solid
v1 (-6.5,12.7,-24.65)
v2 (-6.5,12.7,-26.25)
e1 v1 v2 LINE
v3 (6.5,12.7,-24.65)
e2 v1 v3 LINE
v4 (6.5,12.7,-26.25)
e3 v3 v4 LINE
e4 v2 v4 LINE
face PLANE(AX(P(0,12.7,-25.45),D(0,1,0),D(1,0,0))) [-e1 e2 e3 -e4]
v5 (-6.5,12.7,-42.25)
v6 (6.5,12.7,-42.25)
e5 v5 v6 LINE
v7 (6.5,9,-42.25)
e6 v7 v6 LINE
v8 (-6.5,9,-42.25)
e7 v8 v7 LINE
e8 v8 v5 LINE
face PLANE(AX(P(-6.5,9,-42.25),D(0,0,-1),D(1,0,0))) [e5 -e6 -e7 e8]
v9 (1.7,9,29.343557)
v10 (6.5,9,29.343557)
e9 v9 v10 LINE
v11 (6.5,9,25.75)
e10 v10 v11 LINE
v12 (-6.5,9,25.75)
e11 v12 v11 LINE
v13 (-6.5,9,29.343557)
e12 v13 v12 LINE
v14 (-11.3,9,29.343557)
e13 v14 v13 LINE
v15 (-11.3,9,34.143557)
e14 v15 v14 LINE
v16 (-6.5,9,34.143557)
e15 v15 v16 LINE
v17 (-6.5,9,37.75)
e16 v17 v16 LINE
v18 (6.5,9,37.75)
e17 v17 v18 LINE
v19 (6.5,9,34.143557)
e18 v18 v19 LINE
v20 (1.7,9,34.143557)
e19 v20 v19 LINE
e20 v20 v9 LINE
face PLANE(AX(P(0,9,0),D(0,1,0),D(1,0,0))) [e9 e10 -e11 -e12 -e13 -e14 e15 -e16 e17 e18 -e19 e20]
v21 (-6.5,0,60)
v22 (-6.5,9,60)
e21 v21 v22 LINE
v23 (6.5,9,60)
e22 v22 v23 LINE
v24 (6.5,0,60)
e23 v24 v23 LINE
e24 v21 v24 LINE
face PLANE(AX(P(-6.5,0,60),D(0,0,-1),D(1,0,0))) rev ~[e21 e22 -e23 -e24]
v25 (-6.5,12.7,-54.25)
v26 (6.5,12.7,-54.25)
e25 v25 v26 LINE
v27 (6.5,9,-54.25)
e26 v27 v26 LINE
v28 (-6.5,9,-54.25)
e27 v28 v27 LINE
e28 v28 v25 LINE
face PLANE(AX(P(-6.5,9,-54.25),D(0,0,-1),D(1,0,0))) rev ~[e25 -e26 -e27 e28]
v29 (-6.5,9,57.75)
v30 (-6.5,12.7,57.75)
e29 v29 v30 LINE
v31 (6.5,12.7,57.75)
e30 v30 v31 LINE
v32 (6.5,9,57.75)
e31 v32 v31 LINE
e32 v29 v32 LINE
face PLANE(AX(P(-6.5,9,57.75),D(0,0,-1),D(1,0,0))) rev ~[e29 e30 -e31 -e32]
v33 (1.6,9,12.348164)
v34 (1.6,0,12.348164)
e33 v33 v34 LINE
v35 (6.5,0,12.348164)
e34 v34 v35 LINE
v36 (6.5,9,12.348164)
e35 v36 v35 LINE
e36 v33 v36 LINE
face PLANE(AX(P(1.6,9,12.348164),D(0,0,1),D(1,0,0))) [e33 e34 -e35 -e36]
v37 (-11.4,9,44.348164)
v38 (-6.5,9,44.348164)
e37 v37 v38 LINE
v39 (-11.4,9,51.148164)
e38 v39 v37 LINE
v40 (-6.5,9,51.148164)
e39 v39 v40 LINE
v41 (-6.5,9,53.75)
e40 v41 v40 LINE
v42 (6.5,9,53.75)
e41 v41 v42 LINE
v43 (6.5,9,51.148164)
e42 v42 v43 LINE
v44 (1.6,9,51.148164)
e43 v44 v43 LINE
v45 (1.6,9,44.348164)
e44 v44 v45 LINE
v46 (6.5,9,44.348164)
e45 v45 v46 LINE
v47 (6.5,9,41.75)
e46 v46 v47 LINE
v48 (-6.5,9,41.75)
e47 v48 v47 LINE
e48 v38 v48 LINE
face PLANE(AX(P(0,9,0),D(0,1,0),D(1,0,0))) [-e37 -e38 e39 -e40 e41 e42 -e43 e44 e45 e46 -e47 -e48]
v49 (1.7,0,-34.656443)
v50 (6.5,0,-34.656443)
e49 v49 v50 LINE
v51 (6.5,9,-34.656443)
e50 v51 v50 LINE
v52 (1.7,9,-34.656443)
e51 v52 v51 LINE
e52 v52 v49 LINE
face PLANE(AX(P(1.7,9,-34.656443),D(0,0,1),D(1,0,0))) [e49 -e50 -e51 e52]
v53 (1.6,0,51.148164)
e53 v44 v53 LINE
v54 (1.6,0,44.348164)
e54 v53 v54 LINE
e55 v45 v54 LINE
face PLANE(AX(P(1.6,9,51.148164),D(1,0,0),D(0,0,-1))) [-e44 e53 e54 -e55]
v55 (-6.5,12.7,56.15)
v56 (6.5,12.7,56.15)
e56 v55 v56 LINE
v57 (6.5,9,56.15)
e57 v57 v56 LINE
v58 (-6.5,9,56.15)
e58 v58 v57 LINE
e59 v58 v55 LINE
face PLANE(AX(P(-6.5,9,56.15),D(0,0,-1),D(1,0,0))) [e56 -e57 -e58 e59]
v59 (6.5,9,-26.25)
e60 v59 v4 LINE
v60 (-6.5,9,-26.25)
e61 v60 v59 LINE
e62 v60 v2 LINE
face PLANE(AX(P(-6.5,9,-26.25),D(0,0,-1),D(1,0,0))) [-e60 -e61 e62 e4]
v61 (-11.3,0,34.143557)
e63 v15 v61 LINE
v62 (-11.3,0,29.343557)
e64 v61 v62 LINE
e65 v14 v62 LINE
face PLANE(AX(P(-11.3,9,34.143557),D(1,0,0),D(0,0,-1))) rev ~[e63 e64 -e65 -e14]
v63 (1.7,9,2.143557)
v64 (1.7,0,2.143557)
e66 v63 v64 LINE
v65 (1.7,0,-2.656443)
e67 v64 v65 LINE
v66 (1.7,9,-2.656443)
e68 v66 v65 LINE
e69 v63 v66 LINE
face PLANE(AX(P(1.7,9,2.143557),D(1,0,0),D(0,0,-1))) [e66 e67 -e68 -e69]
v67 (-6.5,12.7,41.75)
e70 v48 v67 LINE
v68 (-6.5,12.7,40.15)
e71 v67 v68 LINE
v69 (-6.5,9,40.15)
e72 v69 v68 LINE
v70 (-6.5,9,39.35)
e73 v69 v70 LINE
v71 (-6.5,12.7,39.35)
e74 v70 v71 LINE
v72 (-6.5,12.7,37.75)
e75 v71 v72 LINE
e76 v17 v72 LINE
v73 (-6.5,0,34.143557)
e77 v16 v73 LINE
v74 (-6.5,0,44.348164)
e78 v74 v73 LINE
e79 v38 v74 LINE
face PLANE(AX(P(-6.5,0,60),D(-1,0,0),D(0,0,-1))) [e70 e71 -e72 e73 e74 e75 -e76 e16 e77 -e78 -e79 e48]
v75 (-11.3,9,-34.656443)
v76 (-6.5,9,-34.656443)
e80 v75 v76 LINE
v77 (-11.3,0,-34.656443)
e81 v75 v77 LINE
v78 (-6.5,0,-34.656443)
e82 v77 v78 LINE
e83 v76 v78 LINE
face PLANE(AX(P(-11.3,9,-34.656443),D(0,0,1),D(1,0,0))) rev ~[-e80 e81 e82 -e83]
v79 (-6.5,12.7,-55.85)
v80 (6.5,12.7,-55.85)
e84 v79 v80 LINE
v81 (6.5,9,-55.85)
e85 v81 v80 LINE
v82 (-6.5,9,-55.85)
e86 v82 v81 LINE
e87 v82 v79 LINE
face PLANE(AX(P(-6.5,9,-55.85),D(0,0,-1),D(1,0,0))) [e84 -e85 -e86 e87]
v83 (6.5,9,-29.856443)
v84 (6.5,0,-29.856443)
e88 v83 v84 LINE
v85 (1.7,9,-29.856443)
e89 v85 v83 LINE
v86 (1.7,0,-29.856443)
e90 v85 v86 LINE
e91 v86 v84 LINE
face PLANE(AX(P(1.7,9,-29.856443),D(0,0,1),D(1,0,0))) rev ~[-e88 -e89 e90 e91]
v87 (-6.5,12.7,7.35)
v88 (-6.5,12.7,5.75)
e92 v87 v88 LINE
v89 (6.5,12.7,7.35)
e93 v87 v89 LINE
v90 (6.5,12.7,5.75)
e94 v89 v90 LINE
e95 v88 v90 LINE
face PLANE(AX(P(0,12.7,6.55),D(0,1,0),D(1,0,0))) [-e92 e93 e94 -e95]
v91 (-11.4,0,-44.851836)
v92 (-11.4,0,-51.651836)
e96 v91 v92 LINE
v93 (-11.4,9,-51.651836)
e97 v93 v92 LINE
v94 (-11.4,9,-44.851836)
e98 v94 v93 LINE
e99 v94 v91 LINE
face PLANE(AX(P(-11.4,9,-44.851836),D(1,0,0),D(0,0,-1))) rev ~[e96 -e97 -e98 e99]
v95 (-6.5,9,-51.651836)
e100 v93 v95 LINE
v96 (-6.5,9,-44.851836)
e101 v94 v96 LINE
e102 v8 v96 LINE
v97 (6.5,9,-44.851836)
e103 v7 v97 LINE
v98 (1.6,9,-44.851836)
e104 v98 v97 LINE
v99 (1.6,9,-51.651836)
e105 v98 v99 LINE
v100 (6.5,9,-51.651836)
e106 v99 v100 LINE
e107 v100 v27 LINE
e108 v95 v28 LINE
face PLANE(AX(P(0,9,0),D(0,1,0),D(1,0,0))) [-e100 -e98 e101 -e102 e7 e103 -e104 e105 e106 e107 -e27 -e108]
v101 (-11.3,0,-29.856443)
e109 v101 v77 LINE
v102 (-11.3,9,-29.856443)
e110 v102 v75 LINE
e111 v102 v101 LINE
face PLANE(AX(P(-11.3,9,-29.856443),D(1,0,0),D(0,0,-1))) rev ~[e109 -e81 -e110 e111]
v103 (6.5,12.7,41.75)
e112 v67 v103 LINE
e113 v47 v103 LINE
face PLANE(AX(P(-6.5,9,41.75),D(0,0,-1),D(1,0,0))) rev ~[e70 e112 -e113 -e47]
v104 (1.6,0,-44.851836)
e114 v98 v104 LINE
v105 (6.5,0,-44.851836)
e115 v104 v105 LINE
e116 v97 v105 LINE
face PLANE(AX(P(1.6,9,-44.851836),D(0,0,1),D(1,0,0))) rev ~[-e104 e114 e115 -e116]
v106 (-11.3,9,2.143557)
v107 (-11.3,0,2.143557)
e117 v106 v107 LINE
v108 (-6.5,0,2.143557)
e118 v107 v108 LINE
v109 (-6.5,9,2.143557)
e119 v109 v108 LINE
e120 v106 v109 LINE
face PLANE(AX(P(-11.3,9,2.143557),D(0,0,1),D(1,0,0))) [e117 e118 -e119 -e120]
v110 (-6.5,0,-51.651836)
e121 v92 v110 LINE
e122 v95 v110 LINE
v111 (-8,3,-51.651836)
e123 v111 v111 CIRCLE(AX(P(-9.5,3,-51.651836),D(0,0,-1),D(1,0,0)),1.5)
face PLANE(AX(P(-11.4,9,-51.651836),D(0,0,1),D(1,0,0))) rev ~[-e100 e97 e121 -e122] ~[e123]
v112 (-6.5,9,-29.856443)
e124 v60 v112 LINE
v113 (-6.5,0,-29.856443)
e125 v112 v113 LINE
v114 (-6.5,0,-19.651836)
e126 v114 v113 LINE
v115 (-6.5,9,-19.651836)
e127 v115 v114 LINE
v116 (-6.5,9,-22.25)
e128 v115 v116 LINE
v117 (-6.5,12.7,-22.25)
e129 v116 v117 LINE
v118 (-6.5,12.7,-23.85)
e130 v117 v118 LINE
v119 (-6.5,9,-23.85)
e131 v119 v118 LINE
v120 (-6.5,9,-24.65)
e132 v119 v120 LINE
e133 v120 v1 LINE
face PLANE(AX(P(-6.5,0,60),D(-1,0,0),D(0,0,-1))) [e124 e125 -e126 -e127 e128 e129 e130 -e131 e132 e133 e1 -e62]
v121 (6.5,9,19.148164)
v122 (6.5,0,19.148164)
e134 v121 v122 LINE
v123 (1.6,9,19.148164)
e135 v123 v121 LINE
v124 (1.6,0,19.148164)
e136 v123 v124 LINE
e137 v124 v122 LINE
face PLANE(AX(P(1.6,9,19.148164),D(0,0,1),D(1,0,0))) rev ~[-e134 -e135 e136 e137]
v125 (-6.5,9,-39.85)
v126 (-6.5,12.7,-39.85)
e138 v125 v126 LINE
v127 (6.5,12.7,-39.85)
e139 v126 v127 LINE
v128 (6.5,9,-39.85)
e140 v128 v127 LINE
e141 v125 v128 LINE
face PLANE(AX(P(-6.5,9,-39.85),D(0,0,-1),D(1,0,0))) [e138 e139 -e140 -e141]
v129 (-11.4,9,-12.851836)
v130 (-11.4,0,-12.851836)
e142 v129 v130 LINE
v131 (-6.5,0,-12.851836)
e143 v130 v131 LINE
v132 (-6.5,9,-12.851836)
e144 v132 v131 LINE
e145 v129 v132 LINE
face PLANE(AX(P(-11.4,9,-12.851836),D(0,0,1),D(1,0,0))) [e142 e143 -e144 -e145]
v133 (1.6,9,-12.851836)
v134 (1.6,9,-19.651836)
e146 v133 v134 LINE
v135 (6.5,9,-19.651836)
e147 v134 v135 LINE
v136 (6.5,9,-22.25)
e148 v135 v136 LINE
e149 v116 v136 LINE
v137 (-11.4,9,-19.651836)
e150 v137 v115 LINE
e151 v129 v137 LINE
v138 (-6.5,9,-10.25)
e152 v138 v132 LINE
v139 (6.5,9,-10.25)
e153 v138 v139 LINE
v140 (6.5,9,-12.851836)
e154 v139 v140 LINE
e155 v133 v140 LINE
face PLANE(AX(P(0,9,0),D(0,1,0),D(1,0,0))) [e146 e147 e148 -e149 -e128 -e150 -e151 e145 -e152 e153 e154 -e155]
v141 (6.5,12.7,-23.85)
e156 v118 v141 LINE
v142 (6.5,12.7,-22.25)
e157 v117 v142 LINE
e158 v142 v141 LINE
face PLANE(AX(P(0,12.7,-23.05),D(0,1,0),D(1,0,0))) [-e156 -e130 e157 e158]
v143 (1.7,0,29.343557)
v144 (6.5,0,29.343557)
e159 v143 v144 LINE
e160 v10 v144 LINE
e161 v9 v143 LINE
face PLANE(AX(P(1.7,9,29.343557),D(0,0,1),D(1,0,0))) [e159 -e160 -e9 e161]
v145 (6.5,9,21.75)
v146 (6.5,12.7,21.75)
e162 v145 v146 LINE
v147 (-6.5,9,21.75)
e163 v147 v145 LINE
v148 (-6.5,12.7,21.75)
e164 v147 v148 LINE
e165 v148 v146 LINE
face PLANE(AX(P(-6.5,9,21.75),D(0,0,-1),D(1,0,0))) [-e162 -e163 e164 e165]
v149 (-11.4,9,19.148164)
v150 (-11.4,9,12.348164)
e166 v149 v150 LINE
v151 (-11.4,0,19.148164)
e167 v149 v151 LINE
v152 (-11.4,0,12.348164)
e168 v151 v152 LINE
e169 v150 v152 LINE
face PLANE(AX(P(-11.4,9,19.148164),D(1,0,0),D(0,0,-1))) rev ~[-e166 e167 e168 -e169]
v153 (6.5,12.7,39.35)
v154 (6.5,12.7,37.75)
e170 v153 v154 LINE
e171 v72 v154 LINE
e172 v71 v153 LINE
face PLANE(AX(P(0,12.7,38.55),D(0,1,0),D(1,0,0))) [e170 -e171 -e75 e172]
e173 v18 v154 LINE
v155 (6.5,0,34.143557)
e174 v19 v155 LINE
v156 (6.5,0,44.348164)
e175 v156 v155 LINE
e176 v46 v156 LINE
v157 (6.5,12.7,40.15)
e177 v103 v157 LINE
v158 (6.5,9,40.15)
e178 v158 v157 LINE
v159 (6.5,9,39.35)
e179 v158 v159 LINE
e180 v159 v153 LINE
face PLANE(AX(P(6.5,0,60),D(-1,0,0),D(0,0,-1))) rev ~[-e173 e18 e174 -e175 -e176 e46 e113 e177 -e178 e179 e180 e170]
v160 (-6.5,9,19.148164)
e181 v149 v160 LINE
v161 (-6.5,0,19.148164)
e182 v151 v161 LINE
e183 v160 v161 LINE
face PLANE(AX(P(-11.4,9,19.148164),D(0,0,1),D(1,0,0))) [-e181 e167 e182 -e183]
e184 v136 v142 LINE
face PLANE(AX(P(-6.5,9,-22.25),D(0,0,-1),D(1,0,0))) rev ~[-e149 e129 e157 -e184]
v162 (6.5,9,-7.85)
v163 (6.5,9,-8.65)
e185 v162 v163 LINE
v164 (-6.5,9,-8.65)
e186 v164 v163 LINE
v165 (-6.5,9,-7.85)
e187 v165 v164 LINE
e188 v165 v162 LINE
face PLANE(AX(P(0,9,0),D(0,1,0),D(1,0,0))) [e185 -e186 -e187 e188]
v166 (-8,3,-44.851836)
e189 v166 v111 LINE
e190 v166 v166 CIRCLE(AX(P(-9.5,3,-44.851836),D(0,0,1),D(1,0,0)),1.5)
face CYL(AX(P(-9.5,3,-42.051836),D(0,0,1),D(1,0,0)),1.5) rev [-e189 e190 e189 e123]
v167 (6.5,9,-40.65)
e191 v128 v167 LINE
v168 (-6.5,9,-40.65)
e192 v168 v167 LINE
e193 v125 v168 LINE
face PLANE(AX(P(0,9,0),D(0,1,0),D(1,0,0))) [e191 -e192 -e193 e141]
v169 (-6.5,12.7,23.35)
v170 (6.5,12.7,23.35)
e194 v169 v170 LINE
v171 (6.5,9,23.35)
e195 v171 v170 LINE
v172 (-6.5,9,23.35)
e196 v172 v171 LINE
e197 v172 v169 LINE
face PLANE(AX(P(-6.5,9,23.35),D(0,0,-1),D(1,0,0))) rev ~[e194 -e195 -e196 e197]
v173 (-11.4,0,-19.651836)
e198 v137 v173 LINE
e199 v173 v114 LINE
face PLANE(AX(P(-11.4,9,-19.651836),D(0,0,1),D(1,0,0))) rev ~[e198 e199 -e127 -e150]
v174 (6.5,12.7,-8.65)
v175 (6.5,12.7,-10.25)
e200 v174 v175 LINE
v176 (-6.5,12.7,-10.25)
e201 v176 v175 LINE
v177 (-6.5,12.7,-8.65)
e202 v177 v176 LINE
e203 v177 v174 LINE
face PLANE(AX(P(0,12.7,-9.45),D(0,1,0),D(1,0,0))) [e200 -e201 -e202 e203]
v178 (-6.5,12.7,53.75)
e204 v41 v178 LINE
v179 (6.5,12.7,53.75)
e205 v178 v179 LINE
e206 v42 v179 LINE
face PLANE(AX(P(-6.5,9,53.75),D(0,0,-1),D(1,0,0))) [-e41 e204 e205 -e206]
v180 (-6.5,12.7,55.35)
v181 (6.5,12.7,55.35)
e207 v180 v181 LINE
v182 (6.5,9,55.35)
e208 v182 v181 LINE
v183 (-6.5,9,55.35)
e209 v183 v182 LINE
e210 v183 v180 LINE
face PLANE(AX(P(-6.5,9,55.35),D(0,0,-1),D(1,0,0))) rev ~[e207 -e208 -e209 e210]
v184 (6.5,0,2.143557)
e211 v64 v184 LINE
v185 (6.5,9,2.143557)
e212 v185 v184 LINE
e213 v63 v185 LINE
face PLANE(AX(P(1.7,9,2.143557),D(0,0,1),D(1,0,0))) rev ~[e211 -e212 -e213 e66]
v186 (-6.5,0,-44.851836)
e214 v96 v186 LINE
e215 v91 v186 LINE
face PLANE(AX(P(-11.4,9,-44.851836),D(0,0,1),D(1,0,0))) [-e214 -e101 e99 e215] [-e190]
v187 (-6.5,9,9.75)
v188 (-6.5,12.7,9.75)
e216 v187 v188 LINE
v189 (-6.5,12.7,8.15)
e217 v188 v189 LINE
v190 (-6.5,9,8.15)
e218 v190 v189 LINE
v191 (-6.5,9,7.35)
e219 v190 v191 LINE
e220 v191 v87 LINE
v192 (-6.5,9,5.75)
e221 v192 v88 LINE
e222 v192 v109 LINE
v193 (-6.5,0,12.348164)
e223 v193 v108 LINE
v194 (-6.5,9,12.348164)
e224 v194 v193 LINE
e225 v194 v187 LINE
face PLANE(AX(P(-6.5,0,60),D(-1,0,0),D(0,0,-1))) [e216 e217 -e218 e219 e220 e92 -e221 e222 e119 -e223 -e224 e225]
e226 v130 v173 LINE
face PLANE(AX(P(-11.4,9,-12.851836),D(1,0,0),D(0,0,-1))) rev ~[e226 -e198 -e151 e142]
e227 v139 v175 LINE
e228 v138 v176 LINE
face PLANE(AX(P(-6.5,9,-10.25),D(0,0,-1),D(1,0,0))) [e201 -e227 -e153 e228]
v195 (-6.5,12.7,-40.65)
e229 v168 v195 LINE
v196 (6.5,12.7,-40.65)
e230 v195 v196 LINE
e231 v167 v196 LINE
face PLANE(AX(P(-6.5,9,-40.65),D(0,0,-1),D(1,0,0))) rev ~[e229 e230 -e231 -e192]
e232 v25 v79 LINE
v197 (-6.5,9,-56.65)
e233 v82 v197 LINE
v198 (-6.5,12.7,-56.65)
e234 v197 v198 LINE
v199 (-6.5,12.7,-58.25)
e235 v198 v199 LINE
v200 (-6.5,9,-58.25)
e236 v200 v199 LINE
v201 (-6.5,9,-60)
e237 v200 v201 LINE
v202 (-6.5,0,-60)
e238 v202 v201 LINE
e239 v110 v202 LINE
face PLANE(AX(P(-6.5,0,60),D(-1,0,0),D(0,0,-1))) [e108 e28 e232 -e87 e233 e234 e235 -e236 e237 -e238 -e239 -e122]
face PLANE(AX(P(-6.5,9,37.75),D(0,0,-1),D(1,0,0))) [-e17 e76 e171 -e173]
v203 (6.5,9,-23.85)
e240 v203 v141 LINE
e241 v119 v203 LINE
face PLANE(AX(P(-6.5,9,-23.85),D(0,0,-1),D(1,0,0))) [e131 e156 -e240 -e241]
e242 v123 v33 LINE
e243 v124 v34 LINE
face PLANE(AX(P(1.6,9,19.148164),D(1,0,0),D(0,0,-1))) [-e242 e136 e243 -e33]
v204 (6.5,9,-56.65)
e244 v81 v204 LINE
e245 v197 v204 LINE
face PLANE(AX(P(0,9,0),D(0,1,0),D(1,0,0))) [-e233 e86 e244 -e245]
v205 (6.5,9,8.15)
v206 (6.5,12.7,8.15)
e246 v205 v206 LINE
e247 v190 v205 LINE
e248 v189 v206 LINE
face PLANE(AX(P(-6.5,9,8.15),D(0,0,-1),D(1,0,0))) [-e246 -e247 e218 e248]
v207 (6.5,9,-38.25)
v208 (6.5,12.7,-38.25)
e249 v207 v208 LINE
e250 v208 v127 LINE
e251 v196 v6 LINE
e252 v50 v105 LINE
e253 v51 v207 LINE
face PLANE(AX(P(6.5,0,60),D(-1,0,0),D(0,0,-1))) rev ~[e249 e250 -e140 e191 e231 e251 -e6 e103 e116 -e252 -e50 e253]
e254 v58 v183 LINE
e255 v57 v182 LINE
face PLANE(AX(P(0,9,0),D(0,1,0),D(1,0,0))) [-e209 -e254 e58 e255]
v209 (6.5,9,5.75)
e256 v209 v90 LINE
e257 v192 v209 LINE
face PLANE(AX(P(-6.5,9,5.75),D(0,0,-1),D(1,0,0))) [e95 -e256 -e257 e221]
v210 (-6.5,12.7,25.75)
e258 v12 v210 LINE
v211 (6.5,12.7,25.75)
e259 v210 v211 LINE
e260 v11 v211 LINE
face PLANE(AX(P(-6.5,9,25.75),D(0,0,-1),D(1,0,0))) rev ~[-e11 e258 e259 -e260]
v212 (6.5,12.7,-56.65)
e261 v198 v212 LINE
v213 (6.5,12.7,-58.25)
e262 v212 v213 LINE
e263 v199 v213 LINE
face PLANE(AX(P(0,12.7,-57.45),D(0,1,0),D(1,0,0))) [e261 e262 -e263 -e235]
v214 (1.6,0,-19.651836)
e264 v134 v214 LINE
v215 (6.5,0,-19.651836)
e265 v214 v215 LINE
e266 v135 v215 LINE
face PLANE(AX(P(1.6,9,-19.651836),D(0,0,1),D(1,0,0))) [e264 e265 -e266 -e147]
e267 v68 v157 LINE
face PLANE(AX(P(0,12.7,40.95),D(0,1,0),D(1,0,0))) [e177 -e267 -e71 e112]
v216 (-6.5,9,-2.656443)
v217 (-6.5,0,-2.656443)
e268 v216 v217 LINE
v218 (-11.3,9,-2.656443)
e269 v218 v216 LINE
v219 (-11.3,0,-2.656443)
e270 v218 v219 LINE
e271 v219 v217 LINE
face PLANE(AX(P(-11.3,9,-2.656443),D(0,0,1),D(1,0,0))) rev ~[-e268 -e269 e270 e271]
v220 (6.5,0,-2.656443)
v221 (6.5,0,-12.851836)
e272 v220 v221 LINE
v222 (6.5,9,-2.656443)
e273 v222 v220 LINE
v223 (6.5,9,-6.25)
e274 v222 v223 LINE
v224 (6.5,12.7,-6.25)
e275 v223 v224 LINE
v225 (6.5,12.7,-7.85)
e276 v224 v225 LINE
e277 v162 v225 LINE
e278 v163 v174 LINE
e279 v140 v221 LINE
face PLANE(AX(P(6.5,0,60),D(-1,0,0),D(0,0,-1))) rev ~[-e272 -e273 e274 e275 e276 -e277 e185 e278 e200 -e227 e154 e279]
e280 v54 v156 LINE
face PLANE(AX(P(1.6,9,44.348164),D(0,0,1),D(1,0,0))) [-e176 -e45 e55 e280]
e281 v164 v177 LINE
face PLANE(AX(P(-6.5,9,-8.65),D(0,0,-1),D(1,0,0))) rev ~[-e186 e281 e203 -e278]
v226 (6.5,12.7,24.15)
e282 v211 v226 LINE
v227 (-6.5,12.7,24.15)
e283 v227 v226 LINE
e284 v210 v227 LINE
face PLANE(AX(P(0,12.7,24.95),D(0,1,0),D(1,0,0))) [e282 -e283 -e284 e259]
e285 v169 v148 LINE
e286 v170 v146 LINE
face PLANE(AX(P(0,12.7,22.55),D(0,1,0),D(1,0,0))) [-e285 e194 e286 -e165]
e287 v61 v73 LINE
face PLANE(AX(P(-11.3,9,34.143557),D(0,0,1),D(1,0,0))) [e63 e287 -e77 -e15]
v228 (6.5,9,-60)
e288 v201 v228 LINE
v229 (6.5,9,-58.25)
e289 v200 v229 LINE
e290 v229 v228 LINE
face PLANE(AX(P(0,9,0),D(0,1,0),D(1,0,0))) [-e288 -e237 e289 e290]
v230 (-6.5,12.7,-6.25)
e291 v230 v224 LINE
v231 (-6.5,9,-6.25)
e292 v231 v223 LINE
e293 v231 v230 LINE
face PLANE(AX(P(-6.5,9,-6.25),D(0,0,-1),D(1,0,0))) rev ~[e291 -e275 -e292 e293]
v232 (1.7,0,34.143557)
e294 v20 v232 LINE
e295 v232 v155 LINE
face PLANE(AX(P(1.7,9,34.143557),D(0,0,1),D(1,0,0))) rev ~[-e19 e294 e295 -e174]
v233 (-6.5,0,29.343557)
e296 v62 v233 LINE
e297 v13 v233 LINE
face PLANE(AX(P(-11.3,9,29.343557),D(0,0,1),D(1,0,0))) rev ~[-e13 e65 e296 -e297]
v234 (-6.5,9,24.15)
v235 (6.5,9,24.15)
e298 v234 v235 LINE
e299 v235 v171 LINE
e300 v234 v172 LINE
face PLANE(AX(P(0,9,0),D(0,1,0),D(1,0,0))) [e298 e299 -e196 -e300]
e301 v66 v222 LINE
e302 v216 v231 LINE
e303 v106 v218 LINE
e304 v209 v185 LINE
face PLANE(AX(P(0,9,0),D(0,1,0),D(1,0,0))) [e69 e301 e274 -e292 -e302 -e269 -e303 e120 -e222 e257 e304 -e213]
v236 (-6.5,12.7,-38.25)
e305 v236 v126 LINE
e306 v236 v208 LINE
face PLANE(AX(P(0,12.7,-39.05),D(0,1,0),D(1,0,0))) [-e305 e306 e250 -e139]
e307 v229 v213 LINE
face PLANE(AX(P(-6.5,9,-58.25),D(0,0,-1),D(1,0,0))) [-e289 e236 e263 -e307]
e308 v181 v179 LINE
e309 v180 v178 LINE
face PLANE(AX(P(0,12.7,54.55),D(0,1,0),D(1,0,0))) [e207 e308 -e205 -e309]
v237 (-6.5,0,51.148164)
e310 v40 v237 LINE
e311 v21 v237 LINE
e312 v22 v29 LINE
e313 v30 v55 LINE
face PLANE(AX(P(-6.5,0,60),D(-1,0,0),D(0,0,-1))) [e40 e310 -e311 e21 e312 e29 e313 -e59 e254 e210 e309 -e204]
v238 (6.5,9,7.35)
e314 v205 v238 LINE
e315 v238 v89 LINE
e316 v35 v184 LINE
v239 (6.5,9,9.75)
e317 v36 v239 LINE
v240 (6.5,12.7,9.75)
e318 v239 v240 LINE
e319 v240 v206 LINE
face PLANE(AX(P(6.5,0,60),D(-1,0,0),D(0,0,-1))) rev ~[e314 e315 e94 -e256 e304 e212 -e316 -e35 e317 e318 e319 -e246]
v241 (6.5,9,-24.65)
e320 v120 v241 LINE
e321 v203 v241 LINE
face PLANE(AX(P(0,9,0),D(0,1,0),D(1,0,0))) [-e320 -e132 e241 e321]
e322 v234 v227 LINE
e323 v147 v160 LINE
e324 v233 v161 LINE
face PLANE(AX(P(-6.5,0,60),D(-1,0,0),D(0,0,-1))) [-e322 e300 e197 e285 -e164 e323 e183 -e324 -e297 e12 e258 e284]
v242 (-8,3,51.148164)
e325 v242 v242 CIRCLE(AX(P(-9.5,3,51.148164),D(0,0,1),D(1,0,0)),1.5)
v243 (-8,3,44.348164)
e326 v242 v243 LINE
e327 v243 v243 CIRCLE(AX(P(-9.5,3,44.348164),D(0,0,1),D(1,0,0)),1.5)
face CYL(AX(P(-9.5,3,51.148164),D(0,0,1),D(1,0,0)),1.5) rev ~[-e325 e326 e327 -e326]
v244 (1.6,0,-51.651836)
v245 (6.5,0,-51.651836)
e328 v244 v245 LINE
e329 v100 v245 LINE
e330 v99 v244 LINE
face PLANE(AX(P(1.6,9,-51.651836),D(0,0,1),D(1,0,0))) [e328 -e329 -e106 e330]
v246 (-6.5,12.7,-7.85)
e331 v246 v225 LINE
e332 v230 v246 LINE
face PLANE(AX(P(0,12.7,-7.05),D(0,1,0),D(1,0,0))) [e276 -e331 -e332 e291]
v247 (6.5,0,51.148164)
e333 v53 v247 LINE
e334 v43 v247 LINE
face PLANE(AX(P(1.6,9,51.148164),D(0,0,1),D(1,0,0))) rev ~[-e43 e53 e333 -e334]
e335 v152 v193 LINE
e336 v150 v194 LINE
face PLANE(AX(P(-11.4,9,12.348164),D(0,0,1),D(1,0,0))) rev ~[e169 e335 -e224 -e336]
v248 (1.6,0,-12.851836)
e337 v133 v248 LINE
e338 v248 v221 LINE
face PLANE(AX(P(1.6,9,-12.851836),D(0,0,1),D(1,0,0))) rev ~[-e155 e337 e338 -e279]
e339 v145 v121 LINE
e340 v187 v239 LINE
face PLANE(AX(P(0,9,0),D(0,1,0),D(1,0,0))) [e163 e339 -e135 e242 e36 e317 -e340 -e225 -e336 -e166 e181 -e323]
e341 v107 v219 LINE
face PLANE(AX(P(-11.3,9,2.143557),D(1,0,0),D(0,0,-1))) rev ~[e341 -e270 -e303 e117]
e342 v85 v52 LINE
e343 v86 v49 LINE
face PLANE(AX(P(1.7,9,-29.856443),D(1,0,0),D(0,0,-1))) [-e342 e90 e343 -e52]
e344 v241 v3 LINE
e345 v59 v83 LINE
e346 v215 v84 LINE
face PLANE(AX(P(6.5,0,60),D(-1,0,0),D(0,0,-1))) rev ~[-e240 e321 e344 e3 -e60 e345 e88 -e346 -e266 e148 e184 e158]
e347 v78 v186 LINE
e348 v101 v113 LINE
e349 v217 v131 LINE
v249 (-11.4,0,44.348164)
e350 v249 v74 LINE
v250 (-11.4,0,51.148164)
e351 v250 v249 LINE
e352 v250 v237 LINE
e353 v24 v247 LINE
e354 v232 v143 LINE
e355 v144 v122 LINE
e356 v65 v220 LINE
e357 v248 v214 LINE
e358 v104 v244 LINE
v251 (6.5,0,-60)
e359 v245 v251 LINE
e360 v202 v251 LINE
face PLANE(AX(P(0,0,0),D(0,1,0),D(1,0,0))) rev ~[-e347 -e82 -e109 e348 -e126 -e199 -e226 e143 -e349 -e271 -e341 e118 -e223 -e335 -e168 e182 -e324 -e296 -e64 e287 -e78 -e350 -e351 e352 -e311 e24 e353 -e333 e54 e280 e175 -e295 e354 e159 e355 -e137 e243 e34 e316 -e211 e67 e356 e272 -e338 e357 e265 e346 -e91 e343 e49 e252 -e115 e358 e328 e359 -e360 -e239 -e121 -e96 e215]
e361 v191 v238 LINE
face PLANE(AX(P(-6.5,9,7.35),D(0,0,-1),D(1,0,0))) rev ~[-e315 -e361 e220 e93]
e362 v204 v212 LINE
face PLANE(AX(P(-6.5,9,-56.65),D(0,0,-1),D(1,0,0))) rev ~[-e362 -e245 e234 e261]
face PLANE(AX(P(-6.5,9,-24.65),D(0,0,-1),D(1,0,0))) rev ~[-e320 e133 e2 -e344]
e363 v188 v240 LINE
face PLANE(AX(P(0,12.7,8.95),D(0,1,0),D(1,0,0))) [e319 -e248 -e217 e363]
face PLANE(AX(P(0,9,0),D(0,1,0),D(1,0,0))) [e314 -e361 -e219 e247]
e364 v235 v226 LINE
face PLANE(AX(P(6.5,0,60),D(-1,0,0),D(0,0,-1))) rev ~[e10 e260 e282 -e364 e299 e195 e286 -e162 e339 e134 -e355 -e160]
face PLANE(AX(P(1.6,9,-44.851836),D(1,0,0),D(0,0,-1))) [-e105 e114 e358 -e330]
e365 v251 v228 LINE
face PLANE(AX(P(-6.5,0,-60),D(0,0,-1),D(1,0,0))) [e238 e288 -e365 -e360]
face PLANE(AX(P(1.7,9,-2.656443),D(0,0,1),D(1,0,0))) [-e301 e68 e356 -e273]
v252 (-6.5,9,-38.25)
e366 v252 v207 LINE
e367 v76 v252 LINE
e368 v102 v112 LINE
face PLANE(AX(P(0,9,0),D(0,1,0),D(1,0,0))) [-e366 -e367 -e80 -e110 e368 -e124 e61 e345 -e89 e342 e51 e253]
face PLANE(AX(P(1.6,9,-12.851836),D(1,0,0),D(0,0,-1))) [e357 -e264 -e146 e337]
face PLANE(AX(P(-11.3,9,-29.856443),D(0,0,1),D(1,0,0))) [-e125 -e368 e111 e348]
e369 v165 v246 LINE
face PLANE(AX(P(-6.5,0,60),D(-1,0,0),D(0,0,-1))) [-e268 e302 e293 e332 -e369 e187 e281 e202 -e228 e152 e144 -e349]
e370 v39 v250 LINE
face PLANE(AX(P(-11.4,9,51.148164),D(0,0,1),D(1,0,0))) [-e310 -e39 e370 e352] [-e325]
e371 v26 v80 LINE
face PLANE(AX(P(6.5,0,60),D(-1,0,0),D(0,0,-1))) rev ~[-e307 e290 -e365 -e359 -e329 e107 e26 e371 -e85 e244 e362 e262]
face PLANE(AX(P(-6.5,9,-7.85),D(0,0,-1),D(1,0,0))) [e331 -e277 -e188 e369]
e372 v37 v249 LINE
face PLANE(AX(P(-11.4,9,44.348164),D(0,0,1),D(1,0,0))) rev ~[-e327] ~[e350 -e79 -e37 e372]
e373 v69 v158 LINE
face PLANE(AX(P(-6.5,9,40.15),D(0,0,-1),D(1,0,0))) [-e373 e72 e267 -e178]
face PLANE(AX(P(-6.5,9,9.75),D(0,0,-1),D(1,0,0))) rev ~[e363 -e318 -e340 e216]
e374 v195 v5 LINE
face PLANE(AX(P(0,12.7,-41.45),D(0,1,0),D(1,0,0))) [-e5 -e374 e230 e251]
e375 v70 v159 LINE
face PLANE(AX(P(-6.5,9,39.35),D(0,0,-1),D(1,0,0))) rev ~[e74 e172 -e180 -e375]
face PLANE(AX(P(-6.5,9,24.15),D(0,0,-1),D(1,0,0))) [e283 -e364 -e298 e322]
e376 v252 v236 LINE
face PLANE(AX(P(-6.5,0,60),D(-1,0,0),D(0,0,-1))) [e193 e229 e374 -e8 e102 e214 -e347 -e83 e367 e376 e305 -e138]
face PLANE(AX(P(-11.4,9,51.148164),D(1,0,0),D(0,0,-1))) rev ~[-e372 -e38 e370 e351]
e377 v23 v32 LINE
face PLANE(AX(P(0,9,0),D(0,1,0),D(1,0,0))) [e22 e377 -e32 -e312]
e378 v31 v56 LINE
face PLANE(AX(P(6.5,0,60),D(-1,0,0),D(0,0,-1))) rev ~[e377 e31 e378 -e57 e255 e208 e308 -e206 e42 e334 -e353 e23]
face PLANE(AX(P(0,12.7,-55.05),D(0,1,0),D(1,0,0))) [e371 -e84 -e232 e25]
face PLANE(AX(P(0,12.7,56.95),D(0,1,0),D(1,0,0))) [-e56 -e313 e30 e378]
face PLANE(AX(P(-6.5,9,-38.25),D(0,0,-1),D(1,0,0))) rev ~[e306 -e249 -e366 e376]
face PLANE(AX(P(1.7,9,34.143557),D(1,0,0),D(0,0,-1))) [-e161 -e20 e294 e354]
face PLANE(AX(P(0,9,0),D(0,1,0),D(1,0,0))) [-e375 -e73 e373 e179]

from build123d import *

# Parameters (mm, degrees)
SKETCH1_W           = 13
SKETCH1_H           = 120
BOSS_EXTRUDE1_DEPTH = 9
SKETCH2_W           = 4.9
SKETCH2_H           = 6.8
BOSS_EXTRUDE2_DEPTH = 9
LPATTERN1_COUNT     = 4
LPATTERN1_PITCH     = 32
SKETCH3_W           = 4.8
SKETCH3_H           = 4.8
BOSS_EXTRUDE3_DEPTH = 9
LPATTERN2_COUNT     = 3
LPATTERN2_PITCH     = 32
SKETCH4_R           = 1.5
CUT_EXTRUDE1_DEPTH  = 9.6
CUT_EXTRUDE2_START  = -9.6
SKETCH5_R           = 1.5
CUT_EXTRUDE2_DEPTH  = 9.6
SKETCH6_W           = 13
SKETCH6_H           = 1.6
BOSS_EXTRUDE4_DEPTH = 3.7
LPATTERN3_COUNT     = 8
LPATTERN3_PITCH     = 16
SKETCH7_W           = 4.9
SKETCH7_H           = 6.8
CUT_EXTRUDE3_DEPTH  = 9
SKETCH8_W           = 4.8
SKETCH8_H           = 4.8
CUT_EXTRUDE4_DEPTH  = 9
LPATTERN4_COUNT     = 4
LPATTERN4_PITCH     = 32
LPATTERN5_COUNT     = 3
LPATTERN5_PITCH     = 32


with BuildPart() as part:
    # Sketch1 → Boss-Extrude1 (new body)
    with BuildSketch(Plane(origin=(0, 0, 0), x_dir=(1, 0, 0), z_dir=(0, 1, 0))):
        Rectangle(SKETCH1_W, SKETCH1_H)
    extrude(amount=BOSS_EXTRUDE1_DEPTH)

    # Sketch2 → Boss-Extrude2 (add)
    with BuildSketch(Plane(origin=(0, 9, 0), x_dir=(1, 0, 0), z_dir=(0, 1, 0))):
        with Locations((-8.95, 48.25183578)):
            Rectangle(SKETCH2_W, SKETCH2_H)
    boss_extrude2 = extrude(amount=-BOSS_EXTRUDE2_DEPTH)

    # LPattern1: Boss-Extrude2 ×4
    with Locations(*[(0, 0, i * LPATTERN1_PITCH) for i in range(1, LPATTERN1_COUNT)]):
        add(boss_extrude2)

    # Sketch3 → Boss-Extrude3 (add)
    with BuildSketch(Plane(origin=(0, 9, 0), x_dir=(1, 0, 0), z_dir=(0, 1, 0))):
        with Locations((-8.9, 32.256443)):
            Rectangle(SKETCH3_W, SKETCH3_H)
    boss_extrude3 = extrude(amount=-BOSS_EXTRUDE3_DEPTH)

    # LPattern2: Boss-Extrude3 ×3
    with Locations(*[(0, 0, i * LPATTERN2_PITCH) for i in range(1, LPATTERN2_COUNT)]):
        add(boss_extrude3)

    # Sketch4 → Cut-Extrude1 (cut)
    with BuildSketch(Plane.XY.offset(51.14816422)):
        with Locations((-9.5, 3)):
            Circle(SKETCH4_R)
    extrude(amount=-CUT_EXTRUDE1_DEPTH, mode=Mode.SUBTRACT)

    # Sketch5 → Cut-Extrude2 (cut)
    with BuildSketch(Plane(origin=(0, 0, -51.65183578), x_dir=(-1, 0, 0), z_dir=(0, 0, -1)).offset(CUT_EXTRUDE2_START)):
        with Locations(Location((9.5, 3, 0), (0, 0, 180))):
            Circle(SKETCH5_R)
    extrude(amount=CUT_EXTRUDE2_DEPTH, mode=Mode.SUBTRACT)

    # Sketch6 → Boss-Extrude4 (add)
    with BuildSketch(Plane(origin=(0, 9, 0), x_dir=(1, 0, 0), z_dir=(0, 1, 0))):
        with Locations((0, 57.45)):
            Rectangle(SKETCH6_W, SKETCH6_H)
        with Locations((0, 55.05)):
            Rectangle(SKETCH6_W, SKETCH6_H)
    boss_extrude4 = extrude(amount=BOSS_EXTRUDE4_DEPTH)

    # LPattern3: Boss-Extrude4 ×8
    with Locations(*[(0, 0, i * LPATTERN3_PITCH) for i in range(1, LPATTERN3_COUNT)]):
        add(boss_extrude4)

    # Sketch7 → Cut-Extrude3 (cut)
    with BuildSketch(Plane(origin=(0, 9, 0), x_dir=(1, 0, 0), z_dir=(0, 1, 0))):
        with Locations((4.05, 48.25183578)):
            Rectangle(SKETCH7_W, SKETCH7_H)
    cut_extrude3 = extrude(amount=-CUT_EXTRUDE3_DEPTH, mode=Mode.SUBTRACT)

    # Sketch8 → Cut-Extrude4 (cut)
    with BuildSketch(Plane(origin=(0, 9, 0), x_dir=(1, 0, 0), z_dir=(0, 1, 0))):
        with Locations((4.1, 32.256443)):
            Rectangle(SKETCH8_W, SKETCH8_H)
    cut_extrude4 = extrude(amount=-CUT_EXTRUDE4_DEPTH, mode=Mode.SUBTRACT)

    # LPattern4: Cut-Extrude3 ×4
    with Locations(*[(0, 0, i * LPATTERN4_PITCH) for i in range(1, LPATTERN4_COUNT)]):
        add(cut_extrude3, mode=Mode.SUBTRACT)

    # LPattern5: Cut-Extrude4 ×3
    with Locations(*[(0, 0, i * LPATTERN5_PITCH) for i in range(1, LPATTERN5_COUNT)]):
        add(cut_extrude4, mode=Mode.SUBTRACT)


solid = part.part
